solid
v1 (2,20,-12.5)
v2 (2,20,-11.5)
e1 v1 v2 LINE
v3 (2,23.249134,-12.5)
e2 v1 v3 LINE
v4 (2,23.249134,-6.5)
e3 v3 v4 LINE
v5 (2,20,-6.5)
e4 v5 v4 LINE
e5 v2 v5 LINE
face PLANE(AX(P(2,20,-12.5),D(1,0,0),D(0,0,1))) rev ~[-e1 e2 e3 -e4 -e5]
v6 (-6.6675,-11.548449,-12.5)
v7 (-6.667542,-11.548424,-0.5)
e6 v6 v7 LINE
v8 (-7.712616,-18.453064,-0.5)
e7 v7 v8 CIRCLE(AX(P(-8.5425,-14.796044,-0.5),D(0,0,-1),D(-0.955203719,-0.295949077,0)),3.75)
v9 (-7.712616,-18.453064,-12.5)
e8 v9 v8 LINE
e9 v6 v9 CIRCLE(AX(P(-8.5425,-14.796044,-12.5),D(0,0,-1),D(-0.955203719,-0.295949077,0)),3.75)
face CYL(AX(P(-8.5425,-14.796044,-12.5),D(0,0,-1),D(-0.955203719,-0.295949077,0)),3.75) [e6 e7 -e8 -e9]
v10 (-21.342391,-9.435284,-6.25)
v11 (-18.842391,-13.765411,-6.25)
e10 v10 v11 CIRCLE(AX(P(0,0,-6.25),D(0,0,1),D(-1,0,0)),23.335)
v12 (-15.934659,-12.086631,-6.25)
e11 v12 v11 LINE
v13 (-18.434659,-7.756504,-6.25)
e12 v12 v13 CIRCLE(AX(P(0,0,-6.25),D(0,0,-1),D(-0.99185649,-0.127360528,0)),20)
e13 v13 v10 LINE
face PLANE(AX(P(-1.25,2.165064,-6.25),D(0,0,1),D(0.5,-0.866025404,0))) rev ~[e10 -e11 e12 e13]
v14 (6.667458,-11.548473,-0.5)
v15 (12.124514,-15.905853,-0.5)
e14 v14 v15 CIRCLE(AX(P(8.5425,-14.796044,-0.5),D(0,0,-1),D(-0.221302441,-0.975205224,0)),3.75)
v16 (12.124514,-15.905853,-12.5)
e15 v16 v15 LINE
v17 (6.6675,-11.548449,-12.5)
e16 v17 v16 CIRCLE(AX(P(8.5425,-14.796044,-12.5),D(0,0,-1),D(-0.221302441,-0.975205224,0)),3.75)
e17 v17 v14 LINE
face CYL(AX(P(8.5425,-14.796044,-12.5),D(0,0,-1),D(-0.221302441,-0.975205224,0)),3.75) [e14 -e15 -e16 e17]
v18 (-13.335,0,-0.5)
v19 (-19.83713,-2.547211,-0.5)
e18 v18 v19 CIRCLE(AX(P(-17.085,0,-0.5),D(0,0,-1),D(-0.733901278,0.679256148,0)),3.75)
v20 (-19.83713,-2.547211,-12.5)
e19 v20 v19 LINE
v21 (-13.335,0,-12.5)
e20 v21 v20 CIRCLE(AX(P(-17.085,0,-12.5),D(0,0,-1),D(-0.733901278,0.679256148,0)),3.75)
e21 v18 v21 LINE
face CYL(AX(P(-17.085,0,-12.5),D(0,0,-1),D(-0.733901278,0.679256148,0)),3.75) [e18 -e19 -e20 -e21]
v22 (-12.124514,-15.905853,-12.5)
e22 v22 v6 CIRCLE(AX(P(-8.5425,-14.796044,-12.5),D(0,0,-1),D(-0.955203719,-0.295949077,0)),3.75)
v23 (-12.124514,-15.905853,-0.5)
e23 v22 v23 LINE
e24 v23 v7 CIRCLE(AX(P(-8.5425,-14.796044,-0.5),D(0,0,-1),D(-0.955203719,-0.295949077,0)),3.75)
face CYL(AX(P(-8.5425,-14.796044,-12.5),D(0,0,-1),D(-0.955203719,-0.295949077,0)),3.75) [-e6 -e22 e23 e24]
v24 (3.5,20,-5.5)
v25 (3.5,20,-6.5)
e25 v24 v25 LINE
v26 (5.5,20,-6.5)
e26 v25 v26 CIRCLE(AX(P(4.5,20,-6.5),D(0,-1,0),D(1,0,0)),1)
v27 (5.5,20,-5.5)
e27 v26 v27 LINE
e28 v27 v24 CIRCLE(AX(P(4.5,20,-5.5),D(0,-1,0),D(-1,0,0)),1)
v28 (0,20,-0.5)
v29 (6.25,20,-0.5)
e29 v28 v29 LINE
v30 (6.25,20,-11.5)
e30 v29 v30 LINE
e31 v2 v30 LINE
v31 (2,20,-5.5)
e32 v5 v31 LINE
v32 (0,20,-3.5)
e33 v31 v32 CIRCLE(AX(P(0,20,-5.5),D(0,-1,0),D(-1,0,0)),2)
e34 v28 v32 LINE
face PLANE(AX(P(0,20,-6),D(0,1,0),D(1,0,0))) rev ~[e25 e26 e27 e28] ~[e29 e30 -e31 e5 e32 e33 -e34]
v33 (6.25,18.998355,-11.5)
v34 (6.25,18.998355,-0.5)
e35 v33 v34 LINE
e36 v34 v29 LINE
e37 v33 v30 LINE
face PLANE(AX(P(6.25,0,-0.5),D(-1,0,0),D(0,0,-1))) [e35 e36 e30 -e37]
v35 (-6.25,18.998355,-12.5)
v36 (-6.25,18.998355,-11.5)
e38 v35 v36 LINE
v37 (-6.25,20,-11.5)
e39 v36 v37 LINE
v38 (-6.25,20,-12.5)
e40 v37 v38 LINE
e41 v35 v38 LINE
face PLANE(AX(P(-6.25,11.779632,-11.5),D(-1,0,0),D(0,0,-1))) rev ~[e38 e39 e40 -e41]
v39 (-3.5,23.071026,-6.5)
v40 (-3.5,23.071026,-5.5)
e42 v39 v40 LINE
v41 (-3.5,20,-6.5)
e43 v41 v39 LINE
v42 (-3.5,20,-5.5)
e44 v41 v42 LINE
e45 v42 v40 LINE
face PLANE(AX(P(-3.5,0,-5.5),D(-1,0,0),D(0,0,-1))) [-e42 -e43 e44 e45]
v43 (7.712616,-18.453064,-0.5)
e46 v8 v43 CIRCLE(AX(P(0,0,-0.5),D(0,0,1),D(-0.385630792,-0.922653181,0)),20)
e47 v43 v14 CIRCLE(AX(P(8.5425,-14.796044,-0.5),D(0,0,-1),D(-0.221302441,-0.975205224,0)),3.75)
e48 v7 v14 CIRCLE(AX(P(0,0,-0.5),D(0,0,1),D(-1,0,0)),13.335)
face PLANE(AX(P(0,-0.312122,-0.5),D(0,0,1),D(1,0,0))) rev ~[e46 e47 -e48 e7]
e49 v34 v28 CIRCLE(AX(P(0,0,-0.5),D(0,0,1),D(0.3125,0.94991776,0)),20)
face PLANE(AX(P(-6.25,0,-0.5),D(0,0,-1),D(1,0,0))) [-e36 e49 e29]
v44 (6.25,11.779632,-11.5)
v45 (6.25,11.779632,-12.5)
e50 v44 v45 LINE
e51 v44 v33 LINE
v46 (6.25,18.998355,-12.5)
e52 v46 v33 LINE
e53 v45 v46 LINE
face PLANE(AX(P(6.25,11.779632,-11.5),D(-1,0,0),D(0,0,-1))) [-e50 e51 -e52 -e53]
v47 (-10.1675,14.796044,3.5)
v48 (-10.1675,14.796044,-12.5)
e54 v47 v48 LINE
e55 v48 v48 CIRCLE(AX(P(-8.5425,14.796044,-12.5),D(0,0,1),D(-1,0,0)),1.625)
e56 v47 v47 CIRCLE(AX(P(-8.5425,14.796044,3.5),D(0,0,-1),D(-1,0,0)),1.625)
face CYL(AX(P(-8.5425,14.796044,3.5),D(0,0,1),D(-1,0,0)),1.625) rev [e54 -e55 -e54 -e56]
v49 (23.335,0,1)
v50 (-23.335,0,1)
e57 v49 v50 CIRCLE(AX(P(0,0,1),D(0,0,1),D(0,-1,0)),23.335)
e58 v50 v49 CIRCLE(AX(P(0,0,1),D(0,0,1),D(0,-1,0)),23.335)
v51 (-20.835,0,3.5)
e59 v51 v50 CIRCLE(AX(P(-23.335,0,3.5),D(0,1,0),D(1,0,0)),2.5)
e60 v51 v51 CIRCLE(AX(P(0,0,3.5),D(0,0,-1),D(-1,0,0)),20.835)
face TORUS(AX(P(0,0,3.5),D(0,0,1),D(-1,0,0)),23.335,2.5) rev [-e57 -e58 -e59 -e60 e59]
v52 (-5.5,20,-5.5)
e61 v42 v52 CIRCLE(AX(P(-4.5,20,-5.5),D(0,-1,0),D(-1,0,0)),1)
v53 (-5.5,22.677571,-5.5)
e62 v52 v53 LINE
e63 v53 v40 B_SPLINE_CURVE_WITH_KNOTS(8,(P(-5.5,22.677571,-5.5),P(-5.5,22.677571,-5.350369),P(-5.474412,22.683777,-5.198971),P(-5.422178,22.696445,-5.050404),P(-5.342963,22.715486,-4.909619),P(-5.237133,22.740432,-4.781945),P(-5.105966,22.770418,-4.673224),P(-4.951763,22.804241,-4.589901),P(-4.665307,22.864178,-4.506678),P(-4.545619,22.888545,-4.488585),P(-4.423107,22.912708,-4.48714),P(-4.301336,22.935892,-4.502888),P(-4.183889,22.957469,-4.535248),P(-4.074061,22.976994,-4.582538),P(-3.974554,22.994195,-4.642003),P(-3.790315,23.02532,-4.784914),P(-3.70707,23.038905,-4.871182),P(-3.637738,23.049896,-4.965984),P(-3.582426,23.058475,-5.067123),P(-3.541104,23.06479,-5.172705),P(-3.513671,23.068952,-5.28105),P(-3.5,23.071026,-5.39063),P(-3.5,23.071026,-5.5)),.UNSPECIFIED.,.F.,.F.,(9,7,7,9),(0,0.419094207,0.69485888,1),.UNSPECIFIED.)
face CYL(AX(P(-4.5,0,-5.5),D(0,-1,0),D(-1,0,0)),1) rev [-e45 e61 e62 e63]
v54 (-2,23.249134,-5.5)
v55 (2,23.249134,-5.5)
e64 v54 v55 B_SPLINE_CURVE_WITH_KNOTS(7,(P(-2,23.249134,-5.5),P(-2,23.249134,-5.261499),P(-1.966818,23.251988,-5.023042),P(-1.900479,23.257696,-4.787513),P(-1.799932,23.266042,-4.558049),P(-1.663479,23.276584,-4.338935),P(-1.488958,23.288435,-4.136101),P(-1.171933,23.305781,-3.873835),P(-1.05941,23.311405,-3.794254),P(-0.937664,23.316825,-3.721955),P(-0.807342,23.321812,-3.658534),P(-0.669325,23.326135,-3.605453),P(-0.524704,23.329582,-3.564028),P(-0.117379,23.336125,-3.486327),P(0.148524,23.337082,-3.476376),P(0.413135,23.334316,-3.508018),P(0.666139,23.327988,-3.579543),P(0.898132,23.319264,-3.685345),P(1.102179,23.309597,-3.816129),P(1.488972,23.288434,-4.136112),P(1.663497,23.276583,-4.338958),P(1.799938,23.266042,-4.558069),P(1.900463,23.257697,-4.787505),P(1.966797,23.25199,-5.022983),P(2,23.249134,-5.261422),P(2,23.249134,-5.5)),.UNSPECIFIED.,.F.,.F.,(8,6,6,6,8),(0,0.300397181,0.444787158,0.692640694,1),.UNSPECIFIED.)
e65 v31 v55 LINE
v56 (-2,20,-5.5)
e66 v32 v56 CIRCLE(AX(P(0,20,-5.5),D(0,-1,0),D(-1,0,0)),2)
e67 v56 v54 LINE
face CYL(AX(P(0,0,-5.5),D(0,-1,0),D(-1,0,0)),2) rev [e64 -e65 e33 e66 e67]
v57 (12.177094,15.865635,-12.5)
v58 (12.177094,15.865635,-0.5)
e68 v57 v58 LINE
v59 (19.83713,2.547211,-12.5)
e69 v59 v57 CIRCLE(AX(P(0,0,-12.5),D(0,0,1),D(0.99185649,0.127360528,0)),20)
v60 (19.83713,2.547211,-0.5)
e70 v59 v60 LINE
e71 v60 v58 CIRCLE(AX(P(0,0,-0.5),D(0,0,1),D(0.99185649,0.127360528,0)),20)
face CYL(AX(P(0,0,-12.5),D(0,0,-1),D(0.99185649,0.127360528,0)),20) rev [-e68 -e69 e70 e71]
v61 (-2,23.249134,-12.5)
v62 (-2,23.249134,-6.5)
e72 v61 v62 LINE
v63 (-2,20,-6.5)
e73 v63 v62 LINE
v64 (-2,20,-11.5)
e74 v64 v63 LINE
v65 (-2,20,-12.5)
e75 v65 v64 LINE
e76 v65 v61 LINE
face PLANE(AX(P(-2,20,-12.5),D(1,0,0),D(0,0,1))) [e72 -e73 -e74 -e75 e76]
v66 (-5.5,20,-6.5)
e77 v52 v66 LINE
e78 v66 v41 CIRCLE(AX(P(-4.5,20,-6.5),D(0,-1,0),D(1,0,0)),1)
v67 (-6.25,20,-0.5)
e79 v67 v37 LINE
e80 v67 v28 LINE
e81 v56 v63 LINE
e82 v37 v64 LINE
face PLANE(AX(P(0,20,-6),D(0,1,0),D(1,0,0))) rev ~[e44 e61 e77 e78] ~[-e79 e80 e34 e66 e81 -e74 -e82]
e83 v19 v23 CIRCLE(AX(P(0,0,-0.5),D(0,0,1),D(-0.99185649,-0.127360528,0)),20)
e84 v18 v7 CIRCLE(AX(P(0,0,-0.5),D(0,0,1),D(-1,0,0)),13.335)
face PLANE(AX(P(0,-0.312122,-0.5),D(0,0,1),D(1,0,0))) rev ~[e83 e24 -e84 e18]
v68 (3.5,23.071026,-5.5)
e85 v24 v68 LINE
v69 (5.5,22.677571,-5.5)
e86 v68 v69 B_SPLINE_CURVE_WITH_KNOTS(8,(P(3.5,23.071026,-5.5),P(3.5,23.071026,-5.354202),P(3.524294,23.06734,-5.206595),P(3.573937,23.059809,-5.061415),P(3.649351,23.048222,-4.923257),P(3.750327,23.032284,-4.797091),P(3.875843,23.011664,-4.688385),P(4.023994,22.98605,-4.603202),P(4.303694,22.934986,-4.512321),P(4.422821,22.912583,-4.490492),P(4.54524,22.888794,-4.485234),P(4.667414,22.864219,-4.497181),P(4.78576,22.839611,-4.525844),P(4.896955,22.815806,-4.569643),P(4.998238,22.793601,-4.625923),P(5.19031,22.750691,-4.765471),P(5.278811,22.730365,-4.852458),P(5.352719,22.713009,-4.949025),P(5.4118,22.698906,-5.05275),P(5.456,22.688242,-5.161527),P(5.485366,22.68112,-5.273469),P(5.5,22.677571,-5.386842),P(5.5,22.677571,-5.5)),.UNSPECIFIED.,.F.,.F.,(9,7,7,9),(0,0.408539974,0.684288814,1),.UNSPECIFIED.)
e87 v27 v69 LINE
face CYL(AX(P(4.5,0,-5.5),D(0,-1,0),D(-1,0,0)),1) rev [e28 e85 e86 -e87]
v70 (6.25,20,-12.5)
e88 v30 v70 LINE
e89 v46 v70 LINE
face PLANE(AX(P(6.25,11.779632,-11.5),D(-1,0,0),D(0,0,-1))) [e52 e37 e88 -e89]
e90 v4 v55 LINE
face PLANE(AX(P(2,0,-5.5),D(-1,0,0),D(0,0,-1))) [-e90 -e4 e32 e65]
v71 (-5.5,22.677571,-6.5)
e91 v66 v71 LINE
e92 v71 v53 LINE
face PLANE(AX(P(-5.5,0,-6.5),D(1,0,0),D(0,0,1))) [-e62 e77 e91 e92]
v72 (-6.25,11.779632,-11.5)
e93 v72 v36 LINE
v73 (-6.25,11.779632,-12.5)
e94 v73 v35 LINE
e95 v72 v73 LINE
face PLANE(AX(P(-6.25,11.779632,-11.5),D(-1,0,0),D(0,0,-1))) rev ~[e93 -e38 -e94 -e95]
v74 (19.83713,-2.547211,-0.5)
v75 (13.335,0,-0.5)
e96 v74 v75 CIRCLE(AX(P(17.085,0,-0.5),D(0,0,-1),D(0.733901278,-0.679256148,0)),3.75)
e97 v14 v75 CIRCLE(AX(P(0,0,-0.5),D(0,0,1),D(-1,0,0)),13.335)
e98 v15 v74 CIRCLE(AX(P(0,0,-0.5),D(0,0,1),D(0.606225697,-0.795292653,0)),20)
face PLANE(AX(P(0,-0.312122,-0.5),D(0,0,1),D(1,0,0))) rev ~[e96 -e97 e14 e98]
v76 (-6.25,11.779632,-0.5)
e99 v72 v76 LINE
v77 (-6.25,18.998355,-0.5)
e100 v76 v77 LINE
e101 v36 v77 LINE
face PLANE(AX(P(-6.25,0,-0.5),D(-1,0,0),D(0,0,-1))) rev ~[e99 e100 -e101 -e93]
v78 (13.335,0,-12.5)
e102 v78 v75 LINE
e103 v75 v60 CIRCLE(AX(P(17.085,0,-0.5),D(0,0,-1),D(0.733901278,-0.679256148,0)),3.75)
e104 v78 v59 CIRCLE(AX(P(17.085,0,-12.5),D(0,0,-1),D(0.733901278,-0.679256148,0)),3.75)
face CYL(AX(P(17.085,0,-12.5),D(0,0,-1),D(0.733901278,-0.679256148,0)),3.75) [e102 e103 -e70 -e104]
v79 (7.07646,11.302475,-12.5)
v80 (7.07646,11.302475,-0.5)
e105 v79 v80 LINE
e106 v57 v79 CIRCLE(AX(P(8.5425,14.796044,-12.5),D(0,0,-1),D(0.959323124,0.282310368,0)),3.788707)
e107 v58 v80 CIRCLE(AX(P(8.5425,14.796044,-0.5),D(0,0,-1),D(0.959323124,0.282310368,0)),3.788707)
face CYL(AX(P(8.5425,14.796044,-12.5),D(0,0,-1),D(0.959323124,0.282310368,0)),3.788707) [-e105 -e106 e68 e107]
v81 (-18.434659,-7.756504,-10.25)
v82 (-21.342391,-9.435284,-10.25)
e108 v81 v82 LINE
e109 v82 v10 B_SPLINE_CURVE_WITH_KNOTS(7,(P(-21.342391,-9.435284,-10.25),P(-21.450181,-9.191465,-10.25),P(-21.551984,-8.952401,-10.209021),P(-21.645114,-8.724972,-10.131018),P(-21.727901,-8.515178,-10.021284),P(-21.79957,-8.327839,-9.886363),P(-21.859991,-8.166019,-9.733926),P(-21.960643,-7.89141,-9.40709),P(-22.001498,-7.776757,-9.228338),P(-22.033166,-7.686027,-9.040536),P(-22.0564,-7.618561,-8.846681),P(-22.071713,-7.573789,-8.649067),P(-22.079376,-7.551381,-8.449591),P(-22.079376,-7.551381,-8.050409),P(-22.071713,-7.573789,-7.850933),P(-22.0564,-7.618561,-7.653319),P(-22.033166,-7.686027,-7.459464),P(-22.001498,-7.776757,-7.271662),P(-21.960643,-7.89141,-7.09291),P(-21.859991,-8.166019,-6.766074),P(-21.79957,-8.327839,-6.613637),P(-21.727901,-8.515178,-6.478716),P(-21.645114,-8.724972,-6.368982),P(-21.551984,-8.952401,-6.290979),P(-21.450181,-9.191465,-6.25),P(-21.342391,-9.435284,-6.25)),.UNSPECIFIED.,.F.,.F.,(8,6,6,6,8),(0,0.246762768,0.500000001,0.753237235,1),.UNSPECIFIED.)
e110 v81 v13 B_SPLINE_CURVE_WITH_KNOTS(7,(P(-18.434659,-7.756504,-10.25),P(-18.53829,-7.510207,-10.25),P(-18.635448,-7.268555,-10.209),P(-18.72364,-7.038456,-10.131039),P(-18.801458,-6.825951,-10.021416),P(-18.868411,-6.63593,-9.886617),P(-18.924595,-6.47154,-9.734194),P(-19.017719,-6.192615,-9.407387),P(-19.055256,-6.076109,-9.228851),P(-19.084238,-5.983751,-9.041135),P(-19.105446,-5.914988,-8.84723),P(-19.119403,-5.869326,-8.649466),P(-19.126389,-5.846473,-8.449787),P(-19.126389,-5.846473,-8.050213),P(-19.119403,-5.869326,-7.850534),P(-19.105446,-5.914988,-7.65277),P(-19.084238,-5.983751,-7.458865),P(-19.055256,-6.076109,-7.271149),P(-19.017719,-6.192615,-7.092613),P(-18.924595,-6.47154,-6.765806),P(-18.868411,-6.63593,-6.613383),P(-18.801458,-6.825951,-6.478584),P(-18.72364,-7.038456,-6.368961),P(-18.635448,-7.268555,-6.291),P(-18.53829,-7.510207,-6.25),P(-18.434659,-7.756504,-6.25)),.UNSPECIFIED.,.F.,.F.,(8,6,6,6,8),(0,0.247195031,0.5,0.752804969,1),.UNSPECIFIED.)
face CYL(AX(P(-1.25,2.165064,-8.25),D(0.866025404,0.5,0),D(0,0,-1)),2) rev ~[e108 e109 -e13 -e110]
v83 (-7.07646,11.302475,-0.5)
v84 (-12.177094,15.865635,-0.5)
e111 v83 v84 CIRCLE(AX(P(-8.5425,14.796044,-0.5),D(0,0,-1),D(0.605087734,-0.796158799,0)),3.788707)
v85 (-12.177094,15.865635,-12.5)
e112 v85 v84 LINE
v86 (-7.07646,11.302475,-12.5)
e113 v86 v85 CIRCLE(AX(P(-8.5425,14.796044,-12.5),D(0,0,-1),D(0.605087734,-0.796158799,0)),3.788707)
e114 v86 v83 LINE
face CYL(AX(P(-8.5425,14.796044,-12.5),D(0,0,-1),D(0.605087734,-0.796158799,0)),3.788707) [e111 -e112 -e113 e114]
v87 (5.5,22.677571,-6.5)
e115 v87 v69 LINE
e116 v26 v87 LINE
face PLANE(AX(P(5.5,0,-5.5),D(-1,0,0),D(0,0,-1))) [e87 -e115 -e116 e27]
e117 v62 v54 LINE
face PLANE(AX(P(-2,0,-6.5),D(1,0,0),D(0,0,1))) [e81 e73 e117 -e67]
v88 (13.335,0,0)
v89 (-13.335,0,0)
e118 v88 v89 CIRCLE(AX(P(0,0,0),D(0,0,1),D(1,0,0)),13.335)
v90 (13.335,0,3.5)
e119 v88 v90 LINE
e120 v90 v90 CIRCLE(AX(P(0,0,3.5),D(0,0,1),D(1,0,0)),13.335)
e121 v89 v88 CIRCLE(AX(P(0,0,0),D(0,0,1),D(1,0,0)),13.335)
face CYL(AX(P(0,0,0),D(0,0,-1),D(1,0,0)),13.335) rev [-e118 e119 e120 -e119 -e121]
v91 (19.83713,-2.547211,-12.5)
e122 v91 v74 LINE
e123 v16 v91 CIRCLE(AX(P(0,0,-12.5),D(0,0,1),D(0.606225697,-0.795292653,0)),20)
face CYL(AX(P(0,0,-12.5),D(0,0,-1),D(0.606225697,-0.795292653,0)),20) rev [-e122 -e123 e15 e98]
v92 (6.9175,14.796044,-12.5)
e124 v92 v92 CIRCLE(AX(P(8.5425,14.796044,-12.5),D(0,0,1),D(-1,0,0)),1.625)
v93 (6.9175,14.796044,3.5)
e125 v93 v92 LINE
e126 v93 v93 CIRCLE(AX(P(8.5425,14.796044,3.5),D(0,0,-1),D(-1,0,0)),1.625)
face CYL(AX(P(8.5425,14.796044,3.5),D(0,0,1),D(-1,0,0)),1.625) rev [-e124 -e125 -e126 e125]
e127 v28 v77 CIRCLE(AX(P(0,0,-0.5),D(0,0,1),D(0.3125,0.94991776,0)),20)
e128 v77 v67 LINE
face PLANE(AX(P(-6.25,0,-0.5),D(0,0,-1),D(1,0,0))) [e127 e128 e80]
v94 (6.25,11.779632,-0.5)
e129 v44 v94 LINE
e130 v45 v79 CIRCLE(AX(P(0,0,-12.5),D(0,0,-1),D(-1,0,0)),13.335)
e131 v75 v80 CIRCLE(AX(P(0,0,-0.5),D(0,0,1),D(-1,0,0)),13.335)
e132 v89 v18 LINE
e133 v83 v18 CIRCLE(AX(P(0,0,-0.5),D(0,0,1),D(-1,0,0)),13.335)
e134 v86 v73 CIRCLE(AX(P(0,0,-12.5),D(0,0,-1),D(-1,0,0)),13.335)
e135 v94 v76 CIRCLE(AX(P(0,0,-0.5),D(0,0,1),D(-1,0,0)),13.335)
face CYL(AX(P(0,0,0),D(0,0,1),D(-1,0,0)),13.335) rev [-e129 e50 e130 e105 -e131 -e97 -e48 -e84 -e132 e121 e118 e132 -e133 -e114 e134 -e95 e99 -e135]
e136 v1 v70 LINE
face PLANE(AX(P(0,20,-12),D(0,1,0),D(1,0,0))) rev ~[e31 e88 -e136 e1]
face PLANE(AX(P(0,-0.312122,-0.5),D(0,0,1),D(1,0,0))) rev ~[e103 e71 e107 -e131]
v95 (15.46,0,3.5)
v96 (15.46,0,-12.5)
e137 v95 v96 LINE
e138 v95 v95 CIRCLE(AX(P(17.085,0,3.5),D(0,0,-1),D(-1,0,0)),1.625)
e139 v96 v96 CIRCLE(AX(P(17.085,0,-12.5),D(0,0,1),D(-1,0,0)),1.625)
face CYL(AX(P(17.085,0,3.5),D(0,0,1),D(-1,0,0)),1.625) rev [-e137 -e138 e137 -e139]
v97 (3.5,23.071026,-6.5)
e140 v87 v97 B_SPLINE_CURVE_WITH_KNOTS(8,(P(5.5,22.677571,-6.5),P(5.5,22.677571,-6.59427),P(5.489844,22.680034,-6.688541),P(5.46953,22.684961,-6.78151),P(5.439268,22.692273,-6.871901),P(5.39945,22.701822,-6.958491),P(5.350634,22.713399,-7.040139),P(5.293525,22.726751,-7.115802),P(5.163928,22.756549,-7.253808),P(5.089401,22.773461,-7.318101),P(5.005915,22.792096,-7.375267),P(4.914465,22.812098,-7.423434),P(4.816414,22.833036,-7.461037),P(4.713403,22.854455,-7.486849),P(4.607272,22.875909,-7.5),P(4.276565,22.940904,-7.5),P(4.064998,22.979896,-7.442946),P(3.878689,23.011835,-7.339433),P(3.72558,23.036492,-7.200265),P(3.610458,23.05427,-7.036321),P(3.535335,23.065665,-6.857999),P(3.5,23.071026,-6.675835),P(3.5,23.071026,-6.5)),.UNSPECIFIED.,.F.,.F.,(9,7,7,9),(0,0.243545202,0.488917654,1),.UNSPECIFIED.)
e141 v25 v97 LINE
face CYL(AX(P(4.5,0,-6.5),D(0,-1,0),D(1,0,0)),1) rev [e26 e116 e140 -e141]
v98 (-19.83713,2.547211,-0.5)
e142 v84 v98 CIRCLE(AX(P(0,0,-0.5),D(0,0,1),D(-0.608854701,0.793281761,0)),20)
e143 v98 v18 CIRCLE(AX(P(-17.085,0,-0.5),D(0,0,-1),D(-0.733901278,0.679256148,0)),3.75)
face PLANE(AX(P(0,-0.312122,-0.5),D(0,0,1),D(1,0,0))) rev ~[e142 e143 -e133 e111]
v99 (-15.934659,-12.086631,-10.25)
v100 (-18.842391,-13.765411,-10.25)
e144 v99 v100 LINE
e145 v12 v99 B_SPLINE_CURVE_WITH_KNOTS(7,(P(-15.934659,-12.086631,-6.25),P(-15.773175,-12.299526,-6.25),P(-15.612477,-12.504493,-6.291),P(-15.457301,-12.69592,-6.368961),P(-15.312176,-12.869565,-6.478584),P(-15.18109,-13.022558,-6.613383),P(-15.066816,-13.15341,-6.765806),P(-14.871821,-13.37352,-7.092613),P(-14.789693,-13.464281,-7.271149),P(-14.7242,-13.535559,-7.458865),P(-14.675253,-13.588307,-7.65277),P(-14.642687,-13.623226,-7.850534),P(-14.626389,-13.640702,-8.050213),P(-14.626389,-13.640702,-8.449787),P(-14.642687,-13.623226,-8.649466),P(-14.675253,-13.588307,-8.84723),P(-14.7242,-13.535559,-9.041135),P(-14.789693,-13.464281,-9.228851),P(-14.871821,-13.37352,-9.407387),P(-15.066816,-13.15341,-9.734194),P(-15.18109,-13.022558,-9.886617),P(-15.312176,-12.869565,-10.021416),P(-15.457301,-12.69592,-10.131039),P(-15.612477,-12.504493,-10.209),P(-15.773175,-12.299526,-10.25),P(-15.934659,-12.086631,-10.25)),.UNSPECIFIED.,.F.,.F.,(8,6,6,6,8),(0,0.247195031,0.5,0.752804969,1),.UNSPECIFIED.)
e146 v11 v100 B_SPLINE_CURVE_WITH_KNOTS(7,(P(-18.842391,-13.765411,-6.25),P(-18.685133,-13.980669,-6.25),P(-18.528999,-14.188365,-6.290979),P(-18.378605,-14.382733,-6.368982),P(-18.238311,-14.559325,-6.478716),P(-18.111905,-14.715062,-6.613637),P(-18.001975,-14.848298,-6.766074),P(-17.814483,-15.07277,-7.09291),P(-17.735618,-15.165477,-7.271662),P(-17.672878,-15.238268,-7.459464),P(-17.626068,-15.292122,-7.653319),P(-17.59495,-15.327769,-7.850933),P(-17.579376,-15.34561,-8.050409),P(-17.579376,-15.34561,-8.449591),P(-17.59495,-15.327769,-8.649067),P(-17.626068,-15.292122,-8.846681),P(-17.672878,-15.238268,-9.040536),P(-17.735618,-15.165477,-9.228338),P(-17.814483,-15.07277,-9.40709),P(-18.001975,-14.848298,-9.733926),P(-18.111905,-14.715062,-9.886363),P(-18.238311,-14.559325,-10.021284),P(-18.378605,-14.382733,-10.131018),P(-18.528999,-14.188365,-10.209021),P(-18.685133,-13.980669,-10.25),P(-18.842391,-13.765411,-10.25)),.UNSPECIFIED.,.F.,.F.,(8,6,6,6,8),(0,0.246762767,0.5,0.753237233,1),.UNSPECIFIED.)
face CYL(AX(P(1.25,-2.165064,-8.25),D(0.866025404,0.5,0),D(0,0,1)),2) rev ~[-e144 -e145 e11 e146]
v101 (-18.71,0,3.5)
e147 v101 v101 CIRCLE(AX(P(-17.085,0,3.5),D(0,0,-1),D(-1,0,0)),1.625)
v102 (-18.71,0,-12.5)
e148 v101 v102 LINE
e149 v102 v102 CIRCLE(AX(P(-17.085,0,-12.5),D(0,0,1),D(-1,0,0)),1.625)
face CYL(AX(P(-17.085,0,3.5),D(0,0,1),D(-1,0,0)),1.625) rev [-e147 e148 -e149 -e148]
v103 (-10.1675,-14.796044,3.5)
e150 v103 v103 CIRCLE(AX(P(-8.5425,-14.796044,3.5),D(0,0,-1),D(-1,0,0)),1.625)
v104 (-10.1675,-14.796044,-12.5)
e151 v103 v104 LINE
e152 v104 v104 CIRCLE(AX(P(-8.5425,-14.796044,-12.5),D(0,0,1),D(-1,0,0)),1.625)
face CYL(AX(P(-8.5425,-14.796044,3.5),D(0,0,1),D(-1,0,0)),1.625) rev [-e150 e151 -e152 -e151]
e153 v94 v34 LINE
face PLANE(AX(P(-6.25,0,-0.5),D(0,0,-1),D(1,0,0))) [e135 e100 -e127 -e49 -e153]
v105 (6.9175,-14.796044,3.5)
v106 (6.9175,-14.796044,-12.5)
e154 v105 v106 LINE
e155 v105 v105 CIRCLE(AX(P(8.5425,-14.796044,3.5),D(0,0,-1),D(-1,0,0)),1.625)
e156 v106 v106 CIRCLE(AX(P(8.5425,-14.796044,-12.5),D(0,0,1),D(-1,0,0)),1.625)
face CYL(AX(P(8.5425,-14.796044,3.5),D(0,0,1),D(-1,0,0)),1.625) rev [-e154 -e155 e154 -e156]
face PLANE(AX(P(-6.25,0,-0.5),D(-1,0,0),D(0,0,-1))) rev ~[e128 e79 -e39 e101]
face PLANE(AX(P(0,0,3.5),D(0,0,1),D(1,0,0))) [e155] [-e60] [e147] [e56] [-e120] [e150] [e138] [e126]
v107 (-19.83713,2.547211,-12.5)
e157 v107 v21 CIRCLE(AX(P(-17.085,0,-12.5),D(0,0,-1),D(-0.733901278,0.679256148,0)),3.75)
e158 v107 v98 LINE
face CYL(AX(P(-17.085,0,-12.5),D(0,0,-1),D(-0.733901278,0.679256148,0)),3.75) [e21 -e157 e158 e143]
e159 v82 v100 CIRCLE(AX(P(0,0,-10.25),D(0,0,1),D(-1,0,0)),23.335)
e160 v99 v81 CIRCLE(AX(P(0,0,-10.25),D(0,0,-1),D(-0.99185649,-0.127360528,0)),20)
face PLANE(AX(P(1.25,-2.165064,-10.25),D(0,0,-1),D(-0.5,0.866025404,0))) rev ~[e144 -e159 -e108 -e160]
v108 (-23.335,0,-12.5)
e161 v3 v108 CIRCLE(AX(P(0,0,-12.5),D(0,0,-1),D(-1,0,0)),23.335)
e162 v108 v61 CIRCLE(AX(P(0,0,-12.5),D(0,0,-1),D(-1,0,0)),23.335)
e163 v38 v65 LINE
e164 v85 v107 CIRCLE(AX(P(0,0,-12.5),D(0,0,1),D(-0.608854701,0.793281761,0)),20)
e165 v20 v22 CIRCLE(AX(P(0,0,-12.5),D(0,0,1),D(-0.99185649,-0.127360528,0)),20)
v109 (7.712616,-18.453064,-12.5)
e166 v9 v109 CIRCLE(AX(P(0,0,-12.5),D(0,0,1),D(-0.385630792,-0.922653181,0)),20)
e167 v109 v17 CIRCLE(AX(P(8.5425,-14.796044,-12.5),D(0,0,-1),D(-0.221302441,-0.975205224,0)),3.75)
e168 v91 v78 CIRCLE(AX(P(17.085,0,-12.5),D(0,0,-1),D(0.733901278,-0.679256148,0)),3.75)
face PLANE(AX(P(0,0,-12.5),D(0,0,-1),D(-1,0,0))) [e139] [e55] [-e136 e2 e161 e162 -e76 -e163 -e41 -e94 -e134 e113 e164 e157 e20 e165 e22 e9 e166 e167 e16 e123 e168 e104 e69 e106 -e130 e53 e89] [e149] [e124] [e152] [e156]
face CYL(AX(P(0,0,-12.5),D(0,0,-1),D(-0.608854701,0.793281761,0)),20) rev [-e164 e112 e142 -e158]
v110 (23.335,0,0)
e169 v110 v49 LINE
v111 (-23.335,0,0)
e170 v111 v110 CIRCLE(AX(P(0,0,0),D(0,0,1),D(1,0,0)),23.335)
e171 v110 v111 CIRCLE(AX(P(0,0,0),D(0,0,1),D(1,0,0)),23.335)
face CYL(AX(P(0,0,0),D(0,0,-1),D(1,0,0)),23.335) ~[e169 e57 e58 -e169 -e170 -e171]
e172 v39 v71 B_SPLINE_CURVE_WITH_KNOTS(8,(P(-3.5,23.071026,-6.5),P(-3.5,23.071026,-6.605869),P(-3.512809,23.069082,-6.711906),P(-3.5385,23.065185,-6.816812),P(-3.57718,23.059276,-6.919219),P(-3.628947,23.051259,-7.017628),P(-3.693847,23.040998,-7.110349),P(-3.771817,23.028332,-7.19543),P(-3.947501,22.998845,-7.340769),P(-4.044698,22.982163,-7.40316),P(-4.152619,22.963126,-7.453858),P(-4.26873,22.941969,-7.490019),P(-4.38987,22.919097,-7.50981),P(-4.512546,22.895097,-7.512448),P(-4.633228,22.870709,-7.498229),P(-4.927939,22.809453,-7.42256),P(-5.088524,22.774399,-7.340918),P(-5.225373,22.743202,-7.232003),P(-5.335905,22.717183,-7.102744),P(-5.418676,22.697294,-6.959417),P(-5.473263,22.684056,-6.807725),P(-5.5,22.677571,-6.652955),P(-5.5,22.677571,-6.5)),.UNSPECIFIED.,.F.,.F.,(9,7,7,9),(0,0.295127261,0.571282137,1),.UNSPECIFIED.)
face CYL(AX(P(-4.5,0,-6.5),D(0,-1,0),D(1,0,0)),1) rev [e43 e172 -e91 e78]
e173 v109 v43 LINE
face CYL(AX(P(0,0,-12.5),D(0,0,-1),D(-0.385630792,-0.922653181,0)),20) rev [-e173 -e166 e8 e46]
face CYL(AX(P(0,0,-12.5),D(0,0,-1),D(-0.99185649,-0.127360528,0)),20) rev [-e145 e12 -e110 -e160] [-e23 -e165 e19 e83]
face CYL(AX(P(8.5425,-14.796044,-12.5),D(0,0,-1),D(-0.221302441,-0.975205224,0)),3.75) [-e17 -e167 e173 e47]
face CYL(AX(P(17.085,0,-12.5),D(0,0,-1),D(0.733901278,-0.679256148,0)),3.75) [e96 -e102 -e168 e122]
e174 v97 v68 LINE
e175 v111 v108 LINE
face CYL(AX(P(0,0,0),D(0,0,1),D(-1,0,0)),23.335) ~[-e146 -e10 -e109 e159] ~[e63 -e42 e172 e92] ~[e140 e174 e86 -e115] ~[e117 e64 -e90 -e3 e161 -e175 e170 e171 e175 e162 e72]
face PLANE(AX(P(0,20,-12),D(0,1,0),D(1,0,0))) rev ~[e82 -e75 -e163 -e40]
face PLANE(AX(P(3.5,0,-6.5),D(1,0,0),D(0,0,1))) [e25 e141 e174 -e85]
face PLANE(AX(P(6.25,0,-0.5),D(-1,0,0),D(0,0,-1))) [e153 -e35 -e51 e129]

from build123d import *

# Parameters (mm, degrees)
SKETCH2_R           = 23.335
SKETCH2_R_2         = 13.335
BOSS_EXTRUDE1_DEPTH = 3.5
SKETCH3_R           = 2.5
SKETCH6_R           = 23.335
SKETCH6_R_2         = 13.335
BOSS_EXTRUDE2_DEPTH = 12.5
SKETCH4_R           = 1.625
CUT_EXTRUDE1_DEPTH  = 17
SKETCH10_W          = 12.5
SKETCH10_H          = 11
CUT_EXTRUDE3_DEPTH  = 20
CUT_EXTRUDE4_DEPTH  = 24.335
CUT_EXTRUDE7_START  = 11.779632
SKETCH14_W          = 12.5
SKETCH14_H          = 1
CUT_EXTRUDE7_DEPTH  = 8.220368
SKETCH16_W          = 4
SKETCH16_H          = 6
CUT_EXTRUDE9_DEPTH  = 4.335000135
CUT_EXTRUDE10_DEPTH = 32.876202934
CUT_EXTRUDE11_DEPTH = 12


with BuildPart() as part:
    # Sketch2 → Boss-Extrude1 (new body)
    with BuildSketch(Plane.XY):
        Circle(SKETCH2_R)
        Circle(SKETCH2_R_2, mode=Mode.SUBTRACT)
    extrude(amount=BOSS_EXTRUDE1_DEPTH)

    # Sketch3 → Cut-Revolve1 (revolve, cut)
    with BuildSketch(Plane(origin=(0, 0, 0), x_dir=(1, 0, 0), z_dir=(0, 1, 0))):
        with Locations((-23.335, -3.5)):
            Circle(SKETCH3_R)
    revolve(axis=Axis((0, 0, 3.5), (0, 0, -1)), mode=Mode.SUBTRACT)

    # Sketch6 → Boss-Extrude2 (add)
    with BuildSketch(Plane(origin=(0, 0, 0), x_dir=(-1, 0, 0), z_dir=(0, 0, -1))):
        Circle(SKETCH6_R)
        Circle(SKETCH6_R_2, mode=Mode.SUBTRACT)
    extrude(amount=BOSS_EXTRUDE2_DEPTH)

    # Sketch4 → Cut-Extrude1 (cut, through all)
    with BuildSketch(Plane(origin=(0, 0, 3.5), x_dir=(-1, 0, 0), z_dir=(0, 0, -1))):
        with Locations((8.5425, 14.796044024)):
            Circle(SKETCH4_R)
        with Locations((-8.5425, 14.796044024)):
            Circle(SKETCH4_R)
        with Locations((-17.085, 0)):
            Circle(SKETCH4_R)
        with Locations((-8.5425, -14.796044024)):
            Circle(SKETCH4_R)
        with Locations((8.5425, -14.796044024)):
            Circle(SKETCH4_R)
        with Locations((17.085, 0)):
            Circle(SKETCH4_R)
    extrude(amount=CUT_EXTRUDE1_DEPTH, mode=Mode.SUBTRACT)

    # Sketch10 → Cut-Extrude3 (cut)
    with BuildSketch(Plane(origin=(0, 0, 0), x_dir=(1, 0, 0), z_dir=(0, 1, 0))):
        with Locations((0, 6)):
            Rectangle(SKETCH10_W, SKETCH10_H)
        with BuildLine():
            ThreePointArc((5.5, 6.5), (4.5, 7.5), (3.5, 6.5))
            Line((3.5, 6.5), (3.5, 5.5))
            ThreePointArc((3.5, 5.5), (4.5, 4.5), (5.5, 5.5))
            Line((5.5, 5.5), (5.5, 6.5))
        make_face(mode=Mode.SUBTRACT)
        with BuildLine():
            ThreePointArc((-5.5, 5.5), (-4.5, 4.5), (-3.5, 5.5))
            Line((-3.5, 5.5), (-3.5, 6.5))
            ThreePointArc((-3.5, 6.5), (-4.5, 7.5), (-5.5, 6.5))
            Line((-5.5, 6.5), (-5.5, 5.5))
        make_face(mode=Mode.SUBTRACT)
        with BuildLine():
            ThreePointArc((-2, 5.5), (0, 3.5), (2, 5.5))
            Line((2, 5.5), (2, 6.5))
            ThreePointArc((2, 6.5), (0, 8.5), (-2, 6.5))
            Line((-2, 6.5), (-2, 5.5))
        make_face(mode=Mode.SUBTRACT)
        with BuildLine():
            Line((5.5, 5.5), (5.5, 6.5))
            ThreePointArc((5.5, 6.5), (4.5, 7.5), (3.5, 6.5))
            Line((3.5, 6.5), (3.5, 5.5))
            ThreePointArc((3.5, 5.5), (4.5, 4.5), (5.5, 5.5))
        make_face()
        with BuildLine():
            Line((-2, 6.5), (-2, 5.5))
            ThreePointArc((-2, 5.5), (0, 3.5), (2, 5.5))
            Line((2, 5.5), (2, 6.5))
            ThreePointArc((2, 6.5), (0, 8.5), (-2, 6.5))
        make_face()
        with BuildLine():
            Line((-5.5, 6.5), (-5.5, 5.5))
            ThreePointArc((-5.5, 5.5), (-4.5, 4.5), (-3.5, 5.5))
            Line((-3.5, 5.5), (-3.5, 6.5))
            ThreePointArc((-3.5, 6.5), (-4.5, 7.5), (-5.5, 6.5))
        make_face()
    extrude(amount=CUT_EXTRUDE3_DEPTH, mode=Mode.SUBTRACT)

    # Sketch10<3> → Cut-Extrude4 (cut, through all)
    with BuildSketch(Plane(origin=(0, 0, 0), x_dir=(1, 0, 0), z_dir=(0, 1, 0))):
        with BuildLine():
            Line((5.5, 5.5), (5.5, 6.5))
            ThreePointArc((5.5, 6.5), (4.5, 7.5), (3.5, 6.5))
            Line((3.5, 6.5), (3.5, 5.5))
            ThreePointArc((3.5, 5.5), (4.5, 4.5), (5.5, 5.5))
        make_face()
        with BuildLine():
            Line((-2, 6.5), (-2, 5.5))
            ThreePointArc((-2, 5.5), (0, 3.5), (2, 5.5))
            Line((2, 5.5), (2, 6.5))
            ThreePointArc((2, 6.5), (0, 8.5), (-2, 6.5))
        make_face()
        with BuildLine():
            Line((-5.5, 6.5), (-5.5, 5.5))
            ThreePointArc((-5.5, 5.5), (-4.5, 4.5), (-3.5, 5.5))
            Line((-3.5, 5.5), (-3.5, 6.5))
            ThreePointArc((-3.5, 6.5), (-4.5, 7.5), (-5.5, 6.5))
        make_face()
    extrude(amount=CUT_EXTRUDE4_DEPTH, mode=Mode.SUBTRACT)

    # Sketch14 → Cut-Extrude7 (cut)
    with BuildSketch(Plane(origin=(0, 0, 0), x_dir=(1, 0, 0), z_dir=(0, 1, 0)).offset(CUT_EXTRUDE7_START)):
        with Locations((0, 12)):
            Rectangle(SKETCH14_W, SKETCH14_H)
    extrude(amount=CUT_EXTRUDE7_DEPTH, mode=Mode.SUBTRACT)

    # Sketch16 → Cut-Extrude9 (cut, through all)
    with BuildSketch(Plane.XZ.offset(-20)):
        with Locations((0, -9.5)):
            Rectangle(SKETCH16_W, SKETCH16_H)
    extrude(amount=-CUT_EXTRUDE9_DEPTH, mode=Mode.SUBTRACT)

    # Sketch17 → Cut-Extrude10 (cut, through all)
    with BuildSketch(Plane(origin=(0, 0, 0), x_dir=(0, 0, -1), z_dir=(-0.866025404, -0.5, 0))):
        with BuildLine():
            Line((10.25, 2.5), (10.25, -2.5))
            ThreePointArc((10.25, -2.5), (8.25, -4.5), (6.25, -2.5))
            Line((6.25, -2.5), (6.25, 2.5))
            ThreePointArc((6.25, 2.5), (8.25, 4.5), (10.25, 2.5))
        make_face()
    extrude(amount=CUT_EXTRUDE10_DEPTH, mode=Mode.SUBTRACT)

    # Sketch18 → Cut-Extrude11 (cut)
    with BuildSketch(Plane(origin=(0, 0, -12.5), x_dir=(-1, 0, 0), z_dir=(0, 0, -1))):
        with BuildLine():
            Line((-6.25, 11.779631785), (-6.25, 18.998355192))
            ThreePointArc((-6.25, 18.998355192), (0, 20), (6.25, 18.998355192))
            Line((6.25, 18.998355192), (6.25, 11.779631785))
            ThreePointArc((6.25, 11.779631785), (10.692886041, 11.676726964), (12.177094021, 15.865635229))
            ThreePointArc((12.177094021, 15.865635229), (17.337033787, 9.971321851), (19.837129792, 2.547210554))
            ThreePointArc((19.837129792, 2.547210554), (13.335, 0), (19.837129792, -2.547210554))
            ThreePointArc((19.837129792, -2.547210554), (17.320508076, -10), (12.124513945, -15.905853061))
            ThreePointArc((12.124513945, -15.905853061), (6.6675, -11.548448759), (7.712615847, -18.453063615))
            ThreePointArc((7.712615847, -18.453063615), (0, -20), (-7.712615847, -18.453063615))
            ThreePointArc((-7.712615847, -18.453063615), (-6.6675, -11.548448759), (-12.124513945, -15.905853061))
            ThreePointArc((-12.124513945, -15.905853061), (-17.320508076, -10), (-19.837129792, -2.547210554))
            ThreePointArc((-19.837129792, -2.547210554), (-13.335, 0), (-19.837129792, 2.547210554))
            ThreePointArc((-19.837129792, 2.547210554), (-17.337033787, 9.971321851), (-12.177094021, 15.865635229))
            ThreePointArc((-12.177094021, 15.865635229), (-10.692886041, 11.676726964), (-6.25, 11.779631785))
        make_face()
    extrude(amount=-CUT_EXTRUDE11_DEPTH, mode=Mode.SUBTRACT)


solid = part.part
